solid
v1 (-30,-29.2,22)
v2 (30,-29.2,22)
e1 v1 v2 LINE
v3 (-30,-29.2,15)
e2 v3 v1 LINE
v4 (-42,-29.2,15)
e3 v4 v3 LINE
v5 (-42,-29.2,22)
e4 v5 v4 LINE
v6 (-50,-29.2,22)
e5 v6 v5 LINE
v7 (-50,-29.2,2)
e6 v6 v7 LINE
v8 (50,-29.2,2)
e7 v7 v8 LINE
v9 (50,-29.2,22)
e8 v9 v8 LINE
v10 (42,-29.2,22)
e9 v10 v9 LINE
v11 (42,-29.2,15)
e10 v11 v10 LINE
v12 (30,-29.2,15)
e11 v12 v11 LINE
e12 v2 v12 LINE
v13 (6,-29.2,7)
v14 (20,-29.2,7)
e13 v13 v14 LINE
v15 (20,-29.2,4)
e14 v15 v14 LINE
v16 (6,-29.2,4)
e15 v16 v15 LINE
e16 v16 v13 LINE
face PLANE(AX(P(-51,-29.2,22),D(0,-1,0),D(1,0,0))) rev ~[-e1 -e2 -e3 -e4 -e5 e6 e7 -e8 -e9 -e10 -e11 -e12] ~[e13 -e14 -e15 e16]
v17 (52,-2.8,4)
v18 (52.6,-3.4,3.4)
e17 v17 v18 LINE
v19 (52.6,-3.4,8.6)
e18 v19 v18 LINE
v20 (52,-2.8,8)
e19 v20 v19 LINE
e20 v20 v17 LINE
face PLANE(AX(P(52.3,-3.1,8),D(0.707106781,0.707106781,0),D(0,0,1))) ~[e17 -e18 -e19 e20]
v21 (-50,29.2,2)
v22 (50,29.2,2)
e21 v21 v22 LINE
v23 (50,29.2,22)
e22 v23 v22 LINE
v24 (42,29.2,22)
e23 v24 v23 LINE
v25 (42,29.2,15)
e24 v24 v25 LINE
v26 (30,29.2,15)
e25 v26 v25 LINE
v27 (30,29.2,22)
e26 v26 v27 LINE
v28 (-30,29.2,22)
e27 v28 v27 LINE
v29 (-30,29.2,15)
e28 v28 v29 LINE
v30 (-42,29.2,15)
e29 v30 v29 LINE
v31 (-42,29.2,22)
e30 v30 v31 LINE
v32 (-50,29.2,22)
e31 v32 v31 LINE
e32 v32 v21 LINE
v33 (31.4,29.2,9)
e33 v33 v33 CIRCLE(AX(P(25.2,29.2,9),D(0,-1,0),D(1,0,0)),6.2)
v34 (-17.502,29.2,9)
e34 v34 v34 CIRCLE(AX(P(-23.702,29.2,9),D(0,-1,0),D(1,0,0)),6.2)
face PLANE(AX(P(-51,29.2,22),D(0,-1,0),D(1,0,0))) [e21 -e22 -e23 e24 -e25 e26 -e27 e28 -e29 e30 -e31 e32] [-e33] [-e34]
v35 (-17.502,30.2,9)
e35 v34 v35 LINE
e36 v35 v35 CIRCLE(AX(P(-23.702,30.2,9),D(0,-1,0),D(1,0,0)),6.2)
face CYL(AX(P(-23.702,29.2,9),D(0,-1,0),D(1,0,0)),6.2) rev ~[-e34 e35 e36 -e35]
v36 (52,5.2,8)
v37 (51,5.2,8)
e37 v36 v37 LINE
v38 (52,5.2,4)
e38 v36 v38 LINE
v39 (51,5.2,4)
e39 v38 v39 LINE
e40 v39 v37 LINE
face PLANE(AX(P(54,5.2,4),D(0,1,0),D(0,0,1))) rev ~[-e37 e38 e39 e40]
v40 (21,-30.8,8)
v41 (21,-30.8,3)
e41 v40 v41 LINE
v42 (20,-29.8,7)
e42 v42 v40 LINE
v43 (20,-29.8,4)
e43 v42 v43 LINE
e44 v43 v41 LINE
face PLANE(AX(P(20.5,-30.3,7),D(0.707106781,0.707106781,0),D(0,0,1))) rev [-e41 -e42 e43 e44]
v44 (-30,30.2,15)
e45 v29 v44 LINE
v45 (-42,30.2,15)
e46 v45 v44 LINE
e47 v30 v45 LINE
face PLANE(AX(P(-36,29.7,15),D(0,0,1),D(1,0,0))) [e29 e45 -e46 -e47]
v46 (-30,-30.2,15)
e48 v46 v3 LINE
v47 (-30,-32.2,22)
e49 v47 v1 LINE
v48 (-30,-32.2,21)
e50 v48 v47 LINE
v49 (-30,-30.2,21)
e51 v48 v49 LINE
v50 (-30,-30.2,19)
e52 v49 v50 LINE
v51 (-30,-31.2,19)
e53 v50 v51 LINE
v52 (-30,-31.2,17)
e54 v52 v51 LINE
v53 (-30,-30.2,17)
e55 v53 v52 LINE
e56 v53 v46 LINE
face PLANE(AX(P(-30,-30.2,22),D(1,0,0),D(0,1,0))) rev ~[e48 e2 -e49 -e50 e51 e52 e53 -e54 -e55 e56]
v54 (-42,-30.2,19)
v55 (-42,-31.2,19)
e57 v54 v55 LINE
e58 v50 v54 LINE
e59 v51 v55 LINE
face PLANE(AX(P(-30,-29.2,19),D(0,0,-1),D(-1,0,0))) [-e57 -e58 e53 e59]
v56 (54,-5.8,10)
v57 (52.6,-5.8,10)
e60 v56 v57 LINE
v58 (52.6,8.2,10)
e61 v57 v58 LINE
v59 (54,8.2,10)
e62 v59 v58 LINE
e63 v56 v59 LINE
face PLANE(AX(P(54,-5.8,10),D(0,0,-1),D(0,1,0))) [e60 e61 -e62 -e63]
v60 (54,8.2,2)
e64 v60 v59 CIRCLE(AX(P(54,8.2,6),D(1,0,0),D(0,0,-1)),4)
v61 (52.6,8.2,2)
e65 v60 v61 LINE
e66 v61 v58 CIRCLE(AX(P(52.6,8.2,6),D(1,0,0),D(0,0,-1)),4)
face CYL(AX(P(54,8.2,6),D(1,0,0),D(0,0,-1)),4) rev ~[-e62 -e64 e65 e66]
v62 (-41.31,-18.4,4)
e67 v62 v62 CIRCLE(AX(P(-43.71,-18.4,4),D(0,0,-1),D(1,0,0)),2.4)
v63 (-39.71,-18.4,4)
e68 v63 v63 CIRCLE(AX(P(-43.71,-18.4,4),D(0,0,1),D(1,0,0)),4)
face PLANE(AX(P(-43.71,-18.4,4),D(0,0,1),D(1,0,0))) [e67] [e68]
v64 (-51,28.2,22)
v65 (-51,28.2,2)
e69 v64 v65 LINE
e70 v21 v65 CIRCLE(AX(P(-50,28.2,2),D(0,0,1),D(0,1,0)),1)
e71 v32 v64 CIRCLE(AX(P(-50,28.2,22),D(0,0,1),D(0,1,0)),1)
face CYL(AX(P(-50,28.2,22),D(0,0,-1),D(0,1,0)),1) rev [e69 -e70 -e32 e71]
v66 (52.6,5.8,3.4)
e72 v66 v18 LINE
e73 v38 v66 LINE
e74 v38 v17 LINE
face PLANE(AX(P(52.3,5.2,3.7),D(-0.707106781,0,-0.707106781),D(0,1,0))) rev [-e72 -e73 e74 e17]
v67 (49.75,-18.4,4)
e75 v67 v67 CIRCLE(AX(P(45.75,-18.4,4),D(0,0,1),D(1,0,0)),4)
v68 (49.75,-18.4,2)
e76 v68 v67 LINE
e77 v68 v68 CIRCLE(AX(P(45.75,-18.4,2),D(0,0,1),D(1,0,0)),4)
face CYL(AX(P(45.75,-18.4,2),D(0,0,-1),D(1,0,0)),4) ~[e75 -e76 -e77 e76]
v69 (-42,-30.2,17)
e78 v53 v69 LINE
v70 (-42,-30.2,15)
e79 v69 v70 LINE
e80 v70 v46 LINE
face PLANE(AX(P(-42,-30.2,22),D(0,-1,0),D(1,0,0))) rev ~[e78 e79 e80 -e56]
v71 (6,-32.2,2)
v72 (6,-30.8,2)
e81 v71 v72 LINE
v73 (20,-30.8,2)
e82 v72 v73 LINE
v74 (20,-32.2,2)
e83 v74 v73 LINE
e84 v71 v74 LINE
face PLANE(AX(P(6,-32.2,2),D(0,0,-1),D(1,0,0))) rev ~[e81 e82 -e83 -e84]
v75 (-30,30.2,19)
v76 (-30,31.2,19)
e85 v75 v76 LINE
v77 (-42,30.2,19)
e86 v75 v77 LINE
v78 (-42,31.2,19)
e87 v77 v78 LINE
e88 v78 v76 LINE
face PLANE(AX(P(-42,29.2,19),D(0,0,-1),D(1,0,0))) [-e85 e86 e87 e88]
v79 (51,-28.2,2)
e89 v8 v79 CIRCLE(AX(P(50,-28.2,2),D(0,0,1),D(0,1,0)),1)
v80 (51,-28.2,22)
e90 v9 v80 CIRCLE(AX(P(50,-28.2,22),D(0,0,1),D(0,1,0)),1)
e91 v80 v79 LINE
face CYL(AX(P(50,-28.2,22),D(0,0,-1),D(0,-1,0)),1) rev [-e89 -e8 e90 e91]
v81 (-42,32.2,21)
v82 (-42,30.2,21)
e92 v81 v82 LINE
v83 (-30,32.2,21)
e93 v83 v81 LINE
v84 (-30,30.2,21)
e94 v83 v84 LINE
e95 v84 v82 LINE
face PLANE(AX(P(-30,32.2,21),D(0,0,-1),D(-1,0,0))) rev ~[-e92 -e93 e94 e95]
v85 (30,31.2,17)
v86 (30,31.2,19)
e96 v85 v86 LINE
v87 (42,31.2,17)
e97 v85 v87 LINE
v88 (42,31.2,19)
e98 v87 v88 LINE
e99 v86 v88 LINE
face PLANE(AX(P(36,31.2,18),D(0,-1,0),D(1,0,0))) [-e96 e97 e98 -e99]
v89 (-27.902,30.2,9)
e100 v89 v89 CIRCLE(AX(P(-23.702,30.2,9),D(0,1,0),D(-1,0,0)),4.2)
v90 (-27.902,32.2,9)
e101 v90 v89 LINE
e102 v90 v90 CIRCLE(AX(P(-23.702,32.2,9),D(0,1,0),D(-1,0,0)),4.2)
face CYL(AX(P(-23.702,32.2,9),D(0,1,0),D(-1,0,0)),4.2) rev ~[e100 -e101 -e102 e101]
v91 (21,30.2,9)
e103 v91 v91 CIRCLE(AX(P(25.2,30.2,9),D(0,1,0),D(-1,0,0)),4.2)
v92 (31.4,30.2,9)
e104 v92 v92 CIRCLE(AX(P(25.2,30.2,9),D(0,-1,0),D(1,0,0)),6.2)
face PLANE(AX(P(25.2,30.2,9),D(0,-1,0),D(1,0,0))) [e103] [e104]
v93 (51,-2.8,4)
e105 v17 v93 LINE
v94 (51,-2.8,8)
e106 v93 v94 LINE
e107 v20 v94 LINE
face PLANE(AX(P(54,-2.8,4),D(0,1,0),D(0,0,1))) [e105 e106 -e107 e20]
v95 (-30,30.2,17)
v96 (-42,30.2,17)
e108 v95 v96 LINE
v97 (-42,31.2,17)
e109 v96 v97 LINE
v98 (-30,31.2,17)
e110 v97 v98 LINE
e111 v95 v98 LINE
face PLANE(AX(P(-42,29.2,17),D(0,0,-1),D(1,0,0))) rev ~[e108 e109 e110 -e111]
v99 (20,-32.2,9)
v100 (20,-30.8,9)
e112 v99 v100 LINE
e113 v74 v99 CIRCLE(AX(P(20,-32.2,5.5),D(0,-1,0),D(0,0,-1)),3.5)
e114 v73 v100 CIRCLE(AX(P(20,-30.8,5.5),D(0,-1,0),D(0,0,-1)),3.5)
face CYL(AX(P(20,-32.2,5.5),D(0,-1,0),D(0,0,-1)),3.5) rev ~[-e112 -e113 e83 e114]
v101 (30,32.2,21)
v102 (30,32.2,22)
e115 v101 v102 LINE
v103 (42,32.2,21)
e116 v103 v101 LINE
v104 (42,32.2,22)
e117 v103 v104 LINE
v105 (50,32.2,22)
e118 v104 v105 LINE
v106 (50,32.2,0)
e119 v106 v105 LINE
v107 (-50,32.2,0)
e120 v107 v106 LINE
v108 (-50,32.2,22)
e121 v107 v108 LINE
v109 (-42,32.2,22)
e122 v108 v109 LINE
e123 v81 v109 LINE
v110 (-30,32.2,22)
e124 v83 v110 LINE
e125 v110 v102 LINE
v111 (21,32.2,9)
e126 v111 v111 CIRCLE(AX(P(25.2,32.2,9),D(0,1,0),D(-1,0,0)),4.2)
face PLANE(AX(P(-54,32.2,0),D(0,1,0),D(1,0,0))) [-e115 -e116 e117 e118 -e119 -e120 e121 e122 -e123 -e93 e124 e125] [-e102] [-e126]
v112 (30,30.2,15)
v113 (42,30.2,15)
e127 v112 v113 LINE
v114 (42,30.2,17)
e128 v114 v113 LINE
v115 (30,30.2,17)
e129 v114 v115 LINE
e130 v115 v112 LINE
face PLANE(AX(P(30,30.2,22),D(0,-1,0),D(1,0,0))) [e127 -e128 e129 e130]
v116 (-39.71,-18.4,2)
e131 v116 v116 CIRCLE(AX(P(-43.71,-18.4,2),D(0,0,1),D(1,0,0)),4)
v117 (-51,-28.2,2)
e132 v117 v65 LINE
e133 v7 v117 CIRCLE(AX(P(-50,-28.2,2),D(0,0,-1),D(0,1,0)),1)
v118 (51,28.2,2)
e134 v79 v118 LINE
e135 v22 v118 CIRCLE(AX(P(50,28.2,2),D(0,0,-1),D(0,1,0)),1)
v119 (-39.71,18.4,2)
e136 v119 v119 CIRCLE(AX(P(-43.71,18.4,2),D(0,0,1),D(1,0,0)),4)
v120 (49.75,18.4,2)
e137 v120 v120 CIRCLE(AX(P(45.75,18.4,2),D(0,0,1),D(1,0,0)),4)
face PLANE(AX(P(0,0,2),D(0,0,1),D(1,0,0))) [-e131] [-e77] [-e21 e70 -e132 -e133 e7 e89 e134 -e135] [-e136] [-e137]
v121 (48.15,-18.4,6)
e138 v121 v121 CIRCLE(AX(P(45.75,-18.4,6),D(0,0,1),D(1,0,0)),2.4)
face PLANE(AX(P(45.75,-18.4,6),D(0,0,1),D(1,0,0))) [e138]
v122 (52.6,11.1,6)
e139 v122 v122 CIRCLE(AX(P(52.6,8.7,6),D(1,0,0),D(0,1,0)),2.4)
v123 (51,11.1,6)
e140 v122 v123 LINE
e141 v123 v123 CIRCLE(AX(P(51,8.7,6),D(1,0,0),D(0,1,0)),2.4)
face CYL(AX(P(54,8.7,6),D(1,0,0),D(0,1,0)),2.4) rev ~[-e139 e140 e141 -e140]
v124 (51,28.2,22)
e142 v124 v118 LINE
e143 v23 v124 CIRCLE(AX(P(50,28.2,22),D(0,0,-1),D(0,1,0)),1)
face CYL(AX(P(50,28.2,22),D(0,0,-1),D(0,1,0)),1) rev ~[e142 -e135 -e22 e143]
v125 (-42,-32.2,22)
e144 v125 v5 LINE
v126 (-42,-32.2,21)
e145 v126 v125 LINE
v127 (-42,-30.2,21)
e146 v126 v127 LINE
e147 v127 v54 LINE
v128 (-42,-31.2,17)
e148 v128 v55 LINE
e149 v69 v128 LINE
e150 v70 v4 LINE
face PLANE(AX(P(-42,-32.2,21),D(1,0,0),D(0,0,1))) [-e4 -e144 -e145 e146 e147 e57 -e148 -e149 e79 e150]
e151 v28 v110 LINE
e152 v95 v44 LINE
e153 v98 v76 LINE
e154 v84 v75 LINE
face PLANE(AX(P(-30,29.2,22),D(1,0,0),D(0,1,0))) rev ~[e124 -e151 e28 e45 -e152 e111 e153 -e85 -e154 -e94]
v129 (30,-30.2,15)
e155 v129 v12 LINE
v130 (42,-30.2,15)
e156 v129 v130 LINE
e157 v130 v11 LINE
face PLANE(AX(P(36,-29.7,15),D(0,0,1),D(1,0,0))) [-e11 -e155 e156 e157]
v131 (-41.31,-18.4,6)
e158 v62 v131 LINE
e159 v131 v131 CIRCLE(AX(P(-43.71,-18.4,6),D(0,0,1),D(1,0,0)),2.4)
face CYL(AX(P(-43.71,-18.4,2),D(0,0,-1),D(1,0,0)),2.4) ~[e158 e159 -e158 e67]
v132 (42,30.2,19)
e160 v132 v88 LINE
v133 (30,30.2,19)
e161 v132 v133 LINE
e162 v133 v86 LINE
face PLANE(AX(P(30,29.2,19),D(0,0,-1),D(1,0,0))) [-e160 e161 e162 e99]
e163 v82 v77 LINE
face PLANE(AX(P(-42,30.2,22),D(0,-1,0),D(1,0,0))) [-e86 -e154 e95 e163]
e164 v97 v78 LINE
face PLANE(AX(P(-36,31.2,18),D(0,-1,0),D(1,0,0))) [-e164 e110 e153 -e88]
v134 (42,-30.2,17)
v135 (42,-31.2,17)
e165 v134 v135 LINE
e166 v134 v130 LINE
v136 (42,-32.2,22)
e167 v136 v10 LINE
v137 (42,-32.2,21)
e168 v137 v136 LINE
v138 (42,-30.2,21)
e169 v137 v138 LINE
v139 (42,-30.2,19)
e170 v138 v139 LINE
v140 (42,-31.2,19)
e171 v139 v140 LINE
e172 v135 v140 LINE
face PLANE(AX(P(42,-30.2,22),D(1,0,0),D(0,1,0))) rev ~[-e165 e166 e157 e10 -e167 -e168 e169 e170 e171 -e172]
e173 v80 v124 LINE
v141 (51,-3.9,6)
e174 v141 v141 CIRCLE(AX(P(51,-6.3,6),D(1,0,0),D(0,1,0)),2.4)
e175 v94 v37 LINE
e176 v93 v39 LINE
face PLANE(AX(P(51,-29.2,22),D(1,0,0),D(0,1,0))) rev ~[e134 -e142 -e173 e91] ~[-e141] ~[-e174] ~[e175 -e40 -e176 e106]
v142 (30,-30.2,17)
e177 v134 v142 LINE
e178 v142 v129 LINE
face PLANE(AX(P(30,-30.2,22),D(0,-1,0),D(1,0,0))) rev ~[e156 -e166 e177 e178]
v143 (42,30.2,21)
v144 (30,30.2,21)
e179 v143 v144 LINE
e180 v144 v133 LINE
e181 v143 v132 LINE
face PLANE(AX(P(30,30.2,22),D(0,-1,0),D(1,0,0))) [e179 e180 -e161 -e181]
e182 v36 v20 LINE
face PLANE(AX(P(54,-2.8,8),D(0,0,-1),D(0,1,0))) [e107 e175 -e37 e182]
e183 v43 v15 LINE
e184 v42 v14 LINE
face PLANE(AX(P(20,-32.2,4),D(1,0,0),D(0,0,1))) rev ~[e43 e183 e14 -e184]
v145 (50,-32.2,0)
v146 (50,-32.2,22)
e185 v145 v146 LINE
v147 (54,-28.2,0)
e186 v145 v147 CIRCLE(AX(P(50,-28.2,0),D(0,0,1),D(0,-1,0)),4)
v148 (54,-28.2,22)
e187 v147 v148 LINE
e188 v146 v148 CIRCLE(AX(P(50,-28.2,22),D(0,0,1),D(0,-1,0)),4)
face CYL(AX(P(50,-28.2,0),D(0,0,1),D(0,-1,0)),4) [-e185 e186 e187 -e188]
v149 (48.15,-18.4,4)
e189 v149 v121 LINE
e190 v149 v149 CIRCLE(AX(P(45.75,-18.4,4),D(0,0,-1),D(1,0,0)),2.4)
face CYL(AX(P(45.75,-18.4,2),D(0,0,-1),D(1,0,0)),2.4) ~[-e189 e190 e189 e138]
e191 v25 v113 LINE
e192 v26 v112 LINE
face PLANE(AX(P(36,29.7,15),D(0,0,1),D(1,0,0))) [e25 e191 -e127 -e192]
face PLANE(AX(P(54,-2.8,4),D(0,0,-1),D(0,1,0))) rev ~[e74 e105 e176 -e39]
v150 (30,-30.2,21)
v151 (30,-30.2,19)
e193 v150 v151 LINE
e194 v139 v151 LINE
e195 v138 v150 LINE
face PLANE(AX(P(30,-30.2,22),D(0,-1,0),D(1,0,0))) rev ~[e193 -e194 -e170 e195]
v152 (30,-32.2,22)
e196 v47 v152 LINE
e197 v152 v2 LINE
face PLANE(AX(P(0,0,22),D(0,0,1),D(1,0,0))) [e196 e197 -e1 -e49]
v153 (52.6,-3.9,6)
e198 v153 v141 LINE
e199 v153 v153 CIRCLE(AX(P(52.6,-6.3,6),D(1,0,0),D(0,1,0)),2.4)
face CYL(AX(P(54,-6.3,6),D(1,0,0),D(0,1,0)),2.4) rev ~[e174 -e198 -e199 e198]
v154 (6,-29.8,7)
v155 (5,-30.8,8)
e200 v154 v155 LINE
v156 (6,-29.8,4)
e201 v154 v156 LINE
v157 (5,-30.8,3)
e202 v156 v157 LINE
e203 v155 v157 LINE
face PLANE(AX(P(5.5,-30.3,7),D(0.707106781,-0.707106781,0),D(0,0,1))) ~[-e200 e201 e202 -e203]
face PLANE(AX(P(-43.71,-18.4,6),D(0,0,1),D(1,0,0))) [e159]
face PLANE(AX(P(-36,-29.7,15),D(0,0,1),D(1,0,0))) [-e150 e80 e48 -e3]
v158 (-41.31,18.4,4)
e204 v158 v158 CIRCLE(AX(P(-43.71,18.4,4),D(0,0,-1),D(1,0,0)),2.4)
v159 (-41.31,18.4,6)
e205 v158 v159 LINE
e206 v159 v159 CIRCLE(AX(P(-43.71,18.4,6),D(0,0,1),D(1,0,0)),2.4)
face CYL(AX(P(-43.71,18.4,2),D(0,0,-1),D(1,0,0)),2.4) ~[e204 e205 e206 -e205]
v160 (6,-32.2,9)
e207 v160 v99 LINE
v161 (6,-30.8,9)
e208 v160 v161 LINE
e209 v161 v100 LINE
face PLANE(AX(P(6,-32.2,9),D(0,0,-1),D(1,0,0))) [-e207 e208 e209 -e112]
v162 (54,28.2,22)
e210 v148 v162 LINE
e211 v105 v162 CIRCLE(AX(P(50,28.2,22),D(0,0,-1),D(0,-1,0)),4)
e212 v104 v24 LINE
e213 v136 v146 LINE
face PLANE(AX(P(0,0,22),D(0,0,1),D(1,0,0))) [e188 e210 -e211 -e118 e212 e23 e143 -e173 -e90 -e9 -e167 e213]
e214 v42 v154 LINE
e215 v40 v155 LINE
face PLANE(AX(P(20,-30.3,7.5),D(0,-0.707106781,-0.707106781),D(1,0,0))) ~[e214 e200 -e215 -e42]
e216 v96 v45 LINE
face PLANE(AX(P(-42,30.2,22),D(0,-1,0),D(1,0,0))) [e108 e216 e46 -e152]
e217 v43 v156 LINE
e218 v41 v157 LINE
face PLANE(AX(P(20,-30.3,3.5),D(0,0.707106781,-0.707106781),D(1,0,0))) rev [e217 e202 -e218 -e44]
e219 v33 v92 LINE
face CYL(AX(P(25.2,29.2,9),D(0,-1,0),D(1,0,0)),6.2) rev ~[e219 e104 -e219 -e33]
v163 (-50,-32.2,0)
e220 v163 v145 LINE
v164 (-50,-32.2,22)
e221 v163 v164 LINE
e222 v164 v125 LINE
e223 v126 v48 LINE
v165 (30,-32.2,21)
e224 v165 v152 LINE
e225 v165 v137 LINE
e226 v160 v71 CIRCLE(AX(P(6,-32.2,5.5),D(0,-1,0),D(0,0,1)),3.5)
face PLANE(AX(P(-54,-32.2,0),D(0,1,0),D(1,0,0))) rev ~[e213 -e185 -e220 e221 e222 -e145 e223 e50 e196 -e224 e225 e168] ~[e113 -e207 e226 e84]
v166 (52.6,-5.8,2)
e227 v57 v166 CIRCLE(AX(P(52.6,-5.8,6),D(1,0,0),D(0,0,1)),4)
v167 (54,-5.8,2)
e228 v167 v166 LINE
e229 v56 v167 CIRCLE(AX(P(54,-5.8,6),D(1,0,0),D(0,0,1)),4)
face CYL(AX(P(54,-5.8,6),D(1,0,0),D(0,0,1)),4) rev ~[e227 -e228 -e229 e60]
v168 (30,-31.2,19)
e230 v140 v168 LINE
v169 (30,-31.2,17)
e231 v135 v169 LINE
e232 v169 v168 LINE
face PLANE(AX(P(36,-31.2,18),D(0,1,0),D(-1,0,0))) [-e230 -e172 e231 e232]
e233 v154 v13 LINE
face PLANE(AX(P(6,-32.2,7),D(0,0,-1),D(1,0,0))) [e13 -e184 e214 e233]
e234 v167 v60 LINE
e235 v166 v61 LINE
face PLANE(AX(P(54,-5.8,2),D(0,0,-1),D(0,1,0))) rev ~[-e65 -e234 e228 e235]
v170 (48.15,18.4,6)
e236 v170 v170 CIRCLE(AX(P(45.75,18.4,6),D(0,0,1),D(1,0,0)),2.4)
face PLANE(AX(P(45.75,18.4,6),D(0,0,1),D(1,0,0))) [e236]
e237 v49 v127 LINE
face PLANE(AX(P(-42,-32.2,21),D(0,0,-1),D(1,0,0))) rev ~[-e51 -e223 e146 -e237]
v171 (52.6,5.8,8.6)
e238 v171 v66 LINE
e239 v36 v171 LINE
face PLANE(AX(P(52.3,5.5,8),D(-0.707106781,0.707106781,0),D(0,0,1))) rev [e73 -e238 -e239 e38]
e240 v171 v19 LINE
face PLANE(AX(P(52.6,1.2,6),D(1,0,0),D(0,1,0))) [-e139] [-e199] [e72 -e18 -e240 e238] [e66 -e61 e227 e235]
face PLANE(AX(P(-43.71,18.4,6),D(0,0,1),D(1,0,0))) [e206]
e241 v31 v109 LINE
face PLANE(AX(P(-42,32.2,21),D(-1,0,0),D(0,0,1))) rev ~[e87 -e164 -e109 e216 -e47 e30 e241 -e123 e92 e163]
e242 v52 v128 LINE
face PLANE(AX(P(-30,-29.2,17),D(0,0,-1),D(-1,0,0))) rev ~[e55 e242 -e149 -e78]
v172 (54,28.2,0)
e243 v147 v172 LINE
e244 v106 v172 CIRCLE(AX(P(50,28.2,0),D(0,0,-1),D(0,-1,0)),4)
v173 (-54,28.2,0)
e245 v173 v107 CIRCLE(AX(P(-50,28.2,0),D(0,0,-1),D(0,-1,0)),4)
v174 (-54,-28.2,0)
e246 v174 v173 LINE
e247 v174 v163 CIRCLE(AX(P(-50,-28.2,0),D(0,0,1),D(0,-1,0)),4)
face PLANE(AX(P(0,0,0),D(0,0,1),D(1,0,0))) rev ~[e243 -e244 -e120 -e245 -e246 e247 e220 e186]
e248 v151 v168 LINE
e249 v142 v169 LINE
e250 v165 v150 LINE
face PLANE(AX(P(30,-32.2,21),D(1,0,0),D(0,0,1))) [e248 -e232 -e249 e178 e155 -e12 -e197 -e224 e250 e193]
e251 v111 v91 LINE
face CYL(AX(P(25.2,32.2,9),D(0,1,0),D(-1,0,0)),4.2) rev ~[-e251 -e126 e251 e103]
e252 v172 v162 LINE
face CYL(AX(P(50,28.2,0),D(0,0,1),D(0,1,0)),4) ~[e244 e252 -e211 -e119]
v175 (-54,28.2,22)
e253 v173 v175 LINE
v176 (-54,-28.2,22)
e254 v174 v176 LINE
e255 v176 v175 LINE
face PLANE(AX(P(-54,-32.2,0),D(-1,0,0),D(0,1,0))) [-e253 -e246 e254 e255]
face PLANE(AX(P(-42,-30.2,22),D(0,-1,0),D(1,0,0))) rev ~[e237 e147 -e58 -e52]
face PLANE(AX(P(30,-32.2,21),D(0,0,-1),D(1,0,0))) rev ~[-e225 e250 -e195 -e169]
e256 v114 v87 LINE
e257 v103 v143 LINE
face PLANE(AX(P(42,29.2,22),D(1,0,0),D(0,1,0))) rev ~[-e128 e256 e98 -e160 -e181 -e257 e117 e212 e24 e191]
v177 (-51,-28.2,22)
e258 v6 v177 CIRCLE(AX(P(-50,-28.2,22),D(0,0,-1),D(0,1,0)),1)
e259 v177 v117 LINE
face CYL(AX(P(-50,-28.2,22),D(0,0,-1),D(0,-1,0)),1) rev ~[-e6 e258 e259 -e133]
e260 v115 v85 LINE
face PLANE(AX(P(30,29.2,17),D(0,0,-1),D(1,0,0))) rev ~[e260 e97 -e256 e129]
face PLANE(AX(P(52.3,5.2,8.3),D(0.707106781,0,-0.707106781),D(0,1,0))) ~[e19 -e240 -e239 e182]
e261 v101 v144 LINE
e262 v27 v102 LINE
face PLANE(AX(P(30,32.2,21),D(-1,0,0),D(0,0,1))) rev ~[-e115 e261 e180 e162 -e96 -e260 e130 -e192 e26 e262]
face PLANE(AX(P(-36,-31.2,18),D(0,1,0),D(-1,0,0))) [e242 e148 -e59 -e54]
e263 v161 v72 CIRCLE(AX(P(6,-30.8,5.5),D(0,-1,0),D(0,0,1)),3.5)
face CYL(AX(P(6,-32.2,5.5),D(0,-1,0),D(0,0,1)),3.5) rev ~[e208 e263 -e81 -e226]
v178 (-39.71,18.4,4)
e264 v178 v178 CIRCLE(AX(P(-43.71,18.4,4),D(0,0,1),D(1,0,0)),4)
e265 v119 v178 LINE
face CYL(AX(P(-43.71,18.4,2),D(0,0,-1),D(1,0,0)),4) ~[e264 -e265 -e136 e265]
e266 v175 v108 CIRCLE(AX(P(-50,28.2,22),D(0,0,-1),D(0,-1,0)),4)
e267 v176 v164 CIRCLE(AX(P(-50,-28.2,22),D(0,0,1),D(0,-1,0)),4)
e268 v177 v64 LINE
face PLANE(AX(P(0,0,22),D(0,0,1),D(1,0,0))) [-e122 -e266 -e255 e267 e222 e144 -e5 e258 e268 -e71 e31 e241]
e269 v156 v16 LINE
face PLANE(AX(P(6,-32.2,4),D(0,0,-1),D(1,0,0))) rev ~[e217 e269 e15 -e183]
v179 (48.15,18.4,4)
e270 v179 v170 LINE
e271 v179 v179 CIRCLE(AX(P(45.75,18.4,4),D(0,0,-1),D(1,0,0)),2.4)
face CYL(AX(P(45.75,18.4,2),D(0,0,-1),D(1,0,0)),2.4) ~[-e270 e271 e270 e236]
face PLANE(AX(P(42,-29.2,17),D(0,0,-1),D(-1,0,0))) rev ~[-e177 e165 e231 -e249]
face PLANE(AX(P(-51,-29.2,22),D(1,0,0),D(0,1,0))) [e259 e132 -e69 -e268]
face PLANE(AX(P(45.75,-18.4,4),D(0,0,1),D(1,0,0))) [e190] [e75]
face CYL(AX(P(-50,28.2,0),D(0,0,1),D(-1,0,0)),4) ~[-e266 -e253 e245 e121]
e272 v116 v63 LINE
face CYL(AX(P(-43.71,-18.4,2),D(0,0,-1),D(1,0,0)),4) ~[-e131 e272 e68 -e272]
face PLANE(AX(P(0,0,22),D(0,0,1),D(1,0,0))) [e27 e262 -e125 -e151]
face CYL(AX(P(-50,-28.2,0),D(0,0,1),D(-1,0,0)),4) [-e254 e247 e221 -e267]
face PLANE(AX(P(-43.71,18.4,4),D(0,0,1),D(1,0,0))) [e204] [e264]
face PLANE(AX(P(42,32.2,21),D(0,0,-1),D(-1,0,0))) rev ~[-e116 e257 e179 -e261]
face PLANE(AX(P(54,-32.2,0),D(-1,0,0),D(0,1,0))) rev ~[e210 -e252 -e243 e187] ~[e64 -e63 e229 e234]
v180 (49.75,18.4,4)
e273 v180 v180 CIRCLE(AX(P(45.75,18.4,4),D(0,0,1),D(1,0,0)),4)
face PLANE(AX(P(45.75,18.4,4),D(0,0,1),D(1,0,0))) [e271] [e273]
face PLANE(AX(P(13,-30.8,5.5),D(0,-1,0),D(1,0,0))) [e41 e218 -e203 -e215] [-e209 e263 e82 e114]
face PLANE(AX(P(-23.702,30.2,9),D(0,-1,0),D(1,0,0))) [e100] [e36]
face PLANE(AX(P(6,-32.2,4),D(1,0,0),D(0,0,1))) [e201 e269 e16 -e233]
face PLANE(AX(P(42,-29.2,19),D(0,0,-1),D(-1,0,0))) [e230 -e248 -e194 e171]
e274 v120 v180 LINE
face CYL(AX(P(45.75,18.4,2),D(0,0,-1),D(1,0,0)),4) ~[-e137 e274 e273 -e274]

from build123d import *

# Parameters (mm, degrees)
SKETCH_W        = 108
SKETCH_H        = 64.4
PAD_DEPTH       = 22
SKETCH001_W     = 102
SKETCH001_H     = 58.4
POCKET_DEPTH    = 20
SKETCH002_R     = 4
PAD001_DEPTH    = 2
SKETCH003_R     = 2.4
PAD002_DEPTH    = 4
SKETCH004_R     = 4.2
SKETCH004_W     = 12
SKETCH004_H     = 1
POCKET001_DEPTH = 3
SKETCH005_W     = 12
SKETCH005_H     = 1
SKETCH005_W_2   = 14
SKETCH005_H_2   = 3
POCKET002_DEPTH = 3
SKETCH006_R     = 2.4
SKETCH006_W     = 8
SKETCH006_H     = 4
POCKET003_DEPTH = 3
SKETCH007_W     = 12
SKETCH007_H     = 2
POCKET004_DEPTH = 2
SKETCH008_W     = 12
SKETCH008_H     = 2
POCKET005_DEPTH = 2
SKETCH009_W     = 12
SKETCH009_H     = 1
POCKET006_DEPTH = 7
POCKET007_DEPTH = 1.4
POCKET008_DEPTH = 1.4
FILLET_R        = 4
FILLET001_R     = 1
CHAMFER_SIZE    = 0.6
CHAMFER001_SIZE = 1
SKETCH012_R     = 6.2
POCKET009_DEPTH = 1


with BuildPart() as part:
    # Sketch → Pad (new body)
    with BuildSketch(Plane.XY):
        Rectangle(SKETCH_W, SKETCH_H)
    extrude(amount=PAD_DEPTH)

    # Sketch001 (on Face6 of Pad) → Pocket (cut)
    with BuildSketch(Plane.XY.offset(22)):
        Rectangle(SKETCH001_W, SKETCH001_H)
    extrude(amount=-POCKET_DEPTH, mode=Mode.SUBTRACT)

    # Sketch002 (on Face11 of Pocket) → Pad001 (join)
    with BuildSketch(Plane.XY.offset(2)):
        with Locations((-43.71, 18.4)):
            Circle(SKETCH002_R)
        with Locations((45.75, 18.4)):
            Circle(SKETCH002_R)
        with Locations((45.75, -18.4)):
            Circle(SKETCH002_R)
        with Locations((-43.71, -18.4)):
            Circle(SKETCH002_R)
    extrude(amount=PAD001_DEPTH)

    # Sketch003 (on Face11 of Pad001) → Pad002 (join)
    with BuildSketch(Plane.XY.offset(2)):
        with Locations((-43.71, 18.4)):
            Circle(SKETCH003_R)
        with Locations((45.75, 18.4)):
            Circle(SKETCH003_R)
        with Locations((45.75, -18.4)):
            Circle(SKETCH003_R)
        with Locations((-43.71, -18.4)):
            Circle(SKETCH003_R)
    extrude(amount=PAD002_DEPTH)

    # Sketch004 (on Face1 of Pad002) → Pocket001 (cut)
    with BuildSketch(Plane(origin=(0, 32.2, 0), x_dir=(-1, 0, 0), z_dir=(0, 1, 0))):
        with Locations((-25.2, 9)):
            Circle(SKETCH004_R)
        with Locations((23.702, 9)):
            Circle(SKETCH004_R)
        with Locations((-36, 21.5)):
            Rectangle(SKETCH004_W, SKETCH004_H)
        with Locations((36, 21.5)):
            Rectangle(SKETCH004_W, SKETCH004_H)
    extrude(amount=-POCKET001_DEPTH, mode=Mode.SUBTRACT)

    # Sketch005 (on Face15 of Pocket001) → Pocket002 (cut)
    with BuildSketch(Plane.XZ.offset(32.2)):
        with Locations((-36, 21.5)):
            Rectangle(SKETCH005_W, SKETCH005_H)
        with Locations((36, 21.5)):
            Rectangle(SKETCH005_W, SKETCH005_H)
        with Locations((13, 5.5)):
            Rectangle(SKETCH005_W_2, SKETCH005_H_2)
    extrude(amount=-POCKET002_DEPTH, mode=Mode.SUBTRACT)

    # Sketch006 (on Face3 of Pocket002) → Pocket003 (cut)
    with BuildSketch(Plane.YZ.offset(54)):
        with Locations((-6.3, 6)):
            Circle(SKETCH006_R)
        with Locations((8.7, 6)):
            Circle(SKETCH006_R)
        with Locations((1.2, 6)):
            Rectangle(SKETCH006_W, SKETCH006_H)
    extrude(amount=-POCKET003_DEPTH, mode=Mode.SUBTRACT)

    # Sketch007 (on Face23 of Pocket003) → Pocket004 (cut)
    with BuildSketch(Plane.XZ.offset(-29.2)):
        with Locations((-36, 18)):
            Rectangle(SKETCH007_W, SKETCH007_H)
        with Locations((36, 18)):
            Rectangle(SKETCH007_W, SKETCH007_H)
    extrude(amount=-POCKET004_DEPTH, mode=Mode.SUBTRACT)

    # Sketch008 (on Face25 of Pocket004) → Pocket005 (cut)
    with BuildSketch(Plane(origin=(0, -29.2, 0), x_dir=(-1, 0, 0), z_dir=(0, 1, 0))):
        with Locations((-36, 18)):
            Rectangle(SKETCH008_W, SKETCH008_H)
        with Locations((36, 18)):
            Rectangle(SKETCH008_W, SKETCH008_H)
    extrude(amount=-POCKET005_DEPTH, mode=Mode.SUBTRACT)

    # Sketch009 (on Face31 of Pocket005) → Pocket006 (cut)
    with BuildSketch(Plane.XY.offset(22)):
        with Locations((-36, 29.7)):
            Rectangle(SKETCH009_W, SKETCH009_H)
        with Locations((36, 29.7)):
            Rectangle(SKETCH009_W, SKETCH009_H)
        with Locations((36, -29.7)):
            Rectangle(SKETCH009_W, SKETCH009_H)
        with Locations((-36, -29.7)):
            Rectangle(SKETCH009_W, SKETCH009_H)
    extrude(amount=-POCKET006_DEPTH, mode=Mode.SUBTRACT)

    # Sketch010 (on Face16 of Pocket006) → Pocket007 (cut)
    with BuildSketch(Plane.XZ.offset(32.2)):
        with BuildLine():
            ThreePointArc((6, 9), (2.5, 5.5), (6, 2))
            Line((6, 2), (20, 2))
            ThreePointArc((20, 2), (23.5, 5.5), (20, 9))
            Line((6, 9), (20, 9))
        make_face()
    extrude(amount=-POCKET007_DEPTH, mode=Mode.SUBTRACT)

    # Sketch011 (on Face3 of Pocket007) → Pocket008 (cut)
    with BuildSketch(Plane.YZ.offset(54)):
        with BuildLine():
            ThreePointArc((-5.8, 10), (-9.8, 6), (-5.8, 2))
            Line((-5.8, 2), (8.2, 2))
            ThreePointArc((8.2, 2), (12.2, 6), (8.2, 10))
            Line((-5.8, 10), (8.2, 10))
        make_face()
    extrude(amount=-POCKET008_DEPTH, mode=Mode.SUBTRACT)

    # Fillet
    fillet_edges = [part.edges().sort_by_distance(p)[0] for p in [
        (54, -32.2, 11),
        (54, 32.2, 11),
        (-54, 32.2, 11),
        (-54, -32.2, 11),
    ]]
    fillet(fillet_edges, radius=FILLET_R)

    # Fillet001
    fillet001_edges = [part.edges().sort_by_distance(p)[0] for p in [
        (-51, 29.2, 12),
        (-51, -29.2, 12),
        (51, -29.2, 12),
        (51, 29.2, 12),
    ]]
    fillet(fillet001_edges, radius=FILLET001_R)

    # Chamfer
    chamfer_edges = [part.edges().sort_by_distance(p)[0] for p in [
        (52.6, 1.2, 8),
        (52.6, -2.8, 6),
        (52.6, 5.2, 6),
        (52.6, 1.2, 4),
    ]]
    chamfer(chamfer_edges, length=CHAMFER_SIZE)

    # Chamfer001
    chamfer001_edges = [part.edges().sort_by_distance(p)[0] for p in [
        (13, -30.8, 7),
        (6, -30.8, 5.5),
        (13, -30.8, 4),
        (20, -30.8, 5.5),
    ]]
    chamfer(chamfer001_edges, length=CHAMFER001_SIZE)

    # Sketch012 (on Face43 of Chamfer001) → Pocket009 (cut)
    with BuildSketch(Plane.XZ.offset(-29.2)):
        with Locations((-23.702, 9)):
            Circle(SKETCH012_R)
        with Locations((25.2, 9)):
            Circle(SKETCH012_R)
    extrude(amount=-POCKET009_DEPTH, mode=Mode.SUBTRACT)


solid = part.part
